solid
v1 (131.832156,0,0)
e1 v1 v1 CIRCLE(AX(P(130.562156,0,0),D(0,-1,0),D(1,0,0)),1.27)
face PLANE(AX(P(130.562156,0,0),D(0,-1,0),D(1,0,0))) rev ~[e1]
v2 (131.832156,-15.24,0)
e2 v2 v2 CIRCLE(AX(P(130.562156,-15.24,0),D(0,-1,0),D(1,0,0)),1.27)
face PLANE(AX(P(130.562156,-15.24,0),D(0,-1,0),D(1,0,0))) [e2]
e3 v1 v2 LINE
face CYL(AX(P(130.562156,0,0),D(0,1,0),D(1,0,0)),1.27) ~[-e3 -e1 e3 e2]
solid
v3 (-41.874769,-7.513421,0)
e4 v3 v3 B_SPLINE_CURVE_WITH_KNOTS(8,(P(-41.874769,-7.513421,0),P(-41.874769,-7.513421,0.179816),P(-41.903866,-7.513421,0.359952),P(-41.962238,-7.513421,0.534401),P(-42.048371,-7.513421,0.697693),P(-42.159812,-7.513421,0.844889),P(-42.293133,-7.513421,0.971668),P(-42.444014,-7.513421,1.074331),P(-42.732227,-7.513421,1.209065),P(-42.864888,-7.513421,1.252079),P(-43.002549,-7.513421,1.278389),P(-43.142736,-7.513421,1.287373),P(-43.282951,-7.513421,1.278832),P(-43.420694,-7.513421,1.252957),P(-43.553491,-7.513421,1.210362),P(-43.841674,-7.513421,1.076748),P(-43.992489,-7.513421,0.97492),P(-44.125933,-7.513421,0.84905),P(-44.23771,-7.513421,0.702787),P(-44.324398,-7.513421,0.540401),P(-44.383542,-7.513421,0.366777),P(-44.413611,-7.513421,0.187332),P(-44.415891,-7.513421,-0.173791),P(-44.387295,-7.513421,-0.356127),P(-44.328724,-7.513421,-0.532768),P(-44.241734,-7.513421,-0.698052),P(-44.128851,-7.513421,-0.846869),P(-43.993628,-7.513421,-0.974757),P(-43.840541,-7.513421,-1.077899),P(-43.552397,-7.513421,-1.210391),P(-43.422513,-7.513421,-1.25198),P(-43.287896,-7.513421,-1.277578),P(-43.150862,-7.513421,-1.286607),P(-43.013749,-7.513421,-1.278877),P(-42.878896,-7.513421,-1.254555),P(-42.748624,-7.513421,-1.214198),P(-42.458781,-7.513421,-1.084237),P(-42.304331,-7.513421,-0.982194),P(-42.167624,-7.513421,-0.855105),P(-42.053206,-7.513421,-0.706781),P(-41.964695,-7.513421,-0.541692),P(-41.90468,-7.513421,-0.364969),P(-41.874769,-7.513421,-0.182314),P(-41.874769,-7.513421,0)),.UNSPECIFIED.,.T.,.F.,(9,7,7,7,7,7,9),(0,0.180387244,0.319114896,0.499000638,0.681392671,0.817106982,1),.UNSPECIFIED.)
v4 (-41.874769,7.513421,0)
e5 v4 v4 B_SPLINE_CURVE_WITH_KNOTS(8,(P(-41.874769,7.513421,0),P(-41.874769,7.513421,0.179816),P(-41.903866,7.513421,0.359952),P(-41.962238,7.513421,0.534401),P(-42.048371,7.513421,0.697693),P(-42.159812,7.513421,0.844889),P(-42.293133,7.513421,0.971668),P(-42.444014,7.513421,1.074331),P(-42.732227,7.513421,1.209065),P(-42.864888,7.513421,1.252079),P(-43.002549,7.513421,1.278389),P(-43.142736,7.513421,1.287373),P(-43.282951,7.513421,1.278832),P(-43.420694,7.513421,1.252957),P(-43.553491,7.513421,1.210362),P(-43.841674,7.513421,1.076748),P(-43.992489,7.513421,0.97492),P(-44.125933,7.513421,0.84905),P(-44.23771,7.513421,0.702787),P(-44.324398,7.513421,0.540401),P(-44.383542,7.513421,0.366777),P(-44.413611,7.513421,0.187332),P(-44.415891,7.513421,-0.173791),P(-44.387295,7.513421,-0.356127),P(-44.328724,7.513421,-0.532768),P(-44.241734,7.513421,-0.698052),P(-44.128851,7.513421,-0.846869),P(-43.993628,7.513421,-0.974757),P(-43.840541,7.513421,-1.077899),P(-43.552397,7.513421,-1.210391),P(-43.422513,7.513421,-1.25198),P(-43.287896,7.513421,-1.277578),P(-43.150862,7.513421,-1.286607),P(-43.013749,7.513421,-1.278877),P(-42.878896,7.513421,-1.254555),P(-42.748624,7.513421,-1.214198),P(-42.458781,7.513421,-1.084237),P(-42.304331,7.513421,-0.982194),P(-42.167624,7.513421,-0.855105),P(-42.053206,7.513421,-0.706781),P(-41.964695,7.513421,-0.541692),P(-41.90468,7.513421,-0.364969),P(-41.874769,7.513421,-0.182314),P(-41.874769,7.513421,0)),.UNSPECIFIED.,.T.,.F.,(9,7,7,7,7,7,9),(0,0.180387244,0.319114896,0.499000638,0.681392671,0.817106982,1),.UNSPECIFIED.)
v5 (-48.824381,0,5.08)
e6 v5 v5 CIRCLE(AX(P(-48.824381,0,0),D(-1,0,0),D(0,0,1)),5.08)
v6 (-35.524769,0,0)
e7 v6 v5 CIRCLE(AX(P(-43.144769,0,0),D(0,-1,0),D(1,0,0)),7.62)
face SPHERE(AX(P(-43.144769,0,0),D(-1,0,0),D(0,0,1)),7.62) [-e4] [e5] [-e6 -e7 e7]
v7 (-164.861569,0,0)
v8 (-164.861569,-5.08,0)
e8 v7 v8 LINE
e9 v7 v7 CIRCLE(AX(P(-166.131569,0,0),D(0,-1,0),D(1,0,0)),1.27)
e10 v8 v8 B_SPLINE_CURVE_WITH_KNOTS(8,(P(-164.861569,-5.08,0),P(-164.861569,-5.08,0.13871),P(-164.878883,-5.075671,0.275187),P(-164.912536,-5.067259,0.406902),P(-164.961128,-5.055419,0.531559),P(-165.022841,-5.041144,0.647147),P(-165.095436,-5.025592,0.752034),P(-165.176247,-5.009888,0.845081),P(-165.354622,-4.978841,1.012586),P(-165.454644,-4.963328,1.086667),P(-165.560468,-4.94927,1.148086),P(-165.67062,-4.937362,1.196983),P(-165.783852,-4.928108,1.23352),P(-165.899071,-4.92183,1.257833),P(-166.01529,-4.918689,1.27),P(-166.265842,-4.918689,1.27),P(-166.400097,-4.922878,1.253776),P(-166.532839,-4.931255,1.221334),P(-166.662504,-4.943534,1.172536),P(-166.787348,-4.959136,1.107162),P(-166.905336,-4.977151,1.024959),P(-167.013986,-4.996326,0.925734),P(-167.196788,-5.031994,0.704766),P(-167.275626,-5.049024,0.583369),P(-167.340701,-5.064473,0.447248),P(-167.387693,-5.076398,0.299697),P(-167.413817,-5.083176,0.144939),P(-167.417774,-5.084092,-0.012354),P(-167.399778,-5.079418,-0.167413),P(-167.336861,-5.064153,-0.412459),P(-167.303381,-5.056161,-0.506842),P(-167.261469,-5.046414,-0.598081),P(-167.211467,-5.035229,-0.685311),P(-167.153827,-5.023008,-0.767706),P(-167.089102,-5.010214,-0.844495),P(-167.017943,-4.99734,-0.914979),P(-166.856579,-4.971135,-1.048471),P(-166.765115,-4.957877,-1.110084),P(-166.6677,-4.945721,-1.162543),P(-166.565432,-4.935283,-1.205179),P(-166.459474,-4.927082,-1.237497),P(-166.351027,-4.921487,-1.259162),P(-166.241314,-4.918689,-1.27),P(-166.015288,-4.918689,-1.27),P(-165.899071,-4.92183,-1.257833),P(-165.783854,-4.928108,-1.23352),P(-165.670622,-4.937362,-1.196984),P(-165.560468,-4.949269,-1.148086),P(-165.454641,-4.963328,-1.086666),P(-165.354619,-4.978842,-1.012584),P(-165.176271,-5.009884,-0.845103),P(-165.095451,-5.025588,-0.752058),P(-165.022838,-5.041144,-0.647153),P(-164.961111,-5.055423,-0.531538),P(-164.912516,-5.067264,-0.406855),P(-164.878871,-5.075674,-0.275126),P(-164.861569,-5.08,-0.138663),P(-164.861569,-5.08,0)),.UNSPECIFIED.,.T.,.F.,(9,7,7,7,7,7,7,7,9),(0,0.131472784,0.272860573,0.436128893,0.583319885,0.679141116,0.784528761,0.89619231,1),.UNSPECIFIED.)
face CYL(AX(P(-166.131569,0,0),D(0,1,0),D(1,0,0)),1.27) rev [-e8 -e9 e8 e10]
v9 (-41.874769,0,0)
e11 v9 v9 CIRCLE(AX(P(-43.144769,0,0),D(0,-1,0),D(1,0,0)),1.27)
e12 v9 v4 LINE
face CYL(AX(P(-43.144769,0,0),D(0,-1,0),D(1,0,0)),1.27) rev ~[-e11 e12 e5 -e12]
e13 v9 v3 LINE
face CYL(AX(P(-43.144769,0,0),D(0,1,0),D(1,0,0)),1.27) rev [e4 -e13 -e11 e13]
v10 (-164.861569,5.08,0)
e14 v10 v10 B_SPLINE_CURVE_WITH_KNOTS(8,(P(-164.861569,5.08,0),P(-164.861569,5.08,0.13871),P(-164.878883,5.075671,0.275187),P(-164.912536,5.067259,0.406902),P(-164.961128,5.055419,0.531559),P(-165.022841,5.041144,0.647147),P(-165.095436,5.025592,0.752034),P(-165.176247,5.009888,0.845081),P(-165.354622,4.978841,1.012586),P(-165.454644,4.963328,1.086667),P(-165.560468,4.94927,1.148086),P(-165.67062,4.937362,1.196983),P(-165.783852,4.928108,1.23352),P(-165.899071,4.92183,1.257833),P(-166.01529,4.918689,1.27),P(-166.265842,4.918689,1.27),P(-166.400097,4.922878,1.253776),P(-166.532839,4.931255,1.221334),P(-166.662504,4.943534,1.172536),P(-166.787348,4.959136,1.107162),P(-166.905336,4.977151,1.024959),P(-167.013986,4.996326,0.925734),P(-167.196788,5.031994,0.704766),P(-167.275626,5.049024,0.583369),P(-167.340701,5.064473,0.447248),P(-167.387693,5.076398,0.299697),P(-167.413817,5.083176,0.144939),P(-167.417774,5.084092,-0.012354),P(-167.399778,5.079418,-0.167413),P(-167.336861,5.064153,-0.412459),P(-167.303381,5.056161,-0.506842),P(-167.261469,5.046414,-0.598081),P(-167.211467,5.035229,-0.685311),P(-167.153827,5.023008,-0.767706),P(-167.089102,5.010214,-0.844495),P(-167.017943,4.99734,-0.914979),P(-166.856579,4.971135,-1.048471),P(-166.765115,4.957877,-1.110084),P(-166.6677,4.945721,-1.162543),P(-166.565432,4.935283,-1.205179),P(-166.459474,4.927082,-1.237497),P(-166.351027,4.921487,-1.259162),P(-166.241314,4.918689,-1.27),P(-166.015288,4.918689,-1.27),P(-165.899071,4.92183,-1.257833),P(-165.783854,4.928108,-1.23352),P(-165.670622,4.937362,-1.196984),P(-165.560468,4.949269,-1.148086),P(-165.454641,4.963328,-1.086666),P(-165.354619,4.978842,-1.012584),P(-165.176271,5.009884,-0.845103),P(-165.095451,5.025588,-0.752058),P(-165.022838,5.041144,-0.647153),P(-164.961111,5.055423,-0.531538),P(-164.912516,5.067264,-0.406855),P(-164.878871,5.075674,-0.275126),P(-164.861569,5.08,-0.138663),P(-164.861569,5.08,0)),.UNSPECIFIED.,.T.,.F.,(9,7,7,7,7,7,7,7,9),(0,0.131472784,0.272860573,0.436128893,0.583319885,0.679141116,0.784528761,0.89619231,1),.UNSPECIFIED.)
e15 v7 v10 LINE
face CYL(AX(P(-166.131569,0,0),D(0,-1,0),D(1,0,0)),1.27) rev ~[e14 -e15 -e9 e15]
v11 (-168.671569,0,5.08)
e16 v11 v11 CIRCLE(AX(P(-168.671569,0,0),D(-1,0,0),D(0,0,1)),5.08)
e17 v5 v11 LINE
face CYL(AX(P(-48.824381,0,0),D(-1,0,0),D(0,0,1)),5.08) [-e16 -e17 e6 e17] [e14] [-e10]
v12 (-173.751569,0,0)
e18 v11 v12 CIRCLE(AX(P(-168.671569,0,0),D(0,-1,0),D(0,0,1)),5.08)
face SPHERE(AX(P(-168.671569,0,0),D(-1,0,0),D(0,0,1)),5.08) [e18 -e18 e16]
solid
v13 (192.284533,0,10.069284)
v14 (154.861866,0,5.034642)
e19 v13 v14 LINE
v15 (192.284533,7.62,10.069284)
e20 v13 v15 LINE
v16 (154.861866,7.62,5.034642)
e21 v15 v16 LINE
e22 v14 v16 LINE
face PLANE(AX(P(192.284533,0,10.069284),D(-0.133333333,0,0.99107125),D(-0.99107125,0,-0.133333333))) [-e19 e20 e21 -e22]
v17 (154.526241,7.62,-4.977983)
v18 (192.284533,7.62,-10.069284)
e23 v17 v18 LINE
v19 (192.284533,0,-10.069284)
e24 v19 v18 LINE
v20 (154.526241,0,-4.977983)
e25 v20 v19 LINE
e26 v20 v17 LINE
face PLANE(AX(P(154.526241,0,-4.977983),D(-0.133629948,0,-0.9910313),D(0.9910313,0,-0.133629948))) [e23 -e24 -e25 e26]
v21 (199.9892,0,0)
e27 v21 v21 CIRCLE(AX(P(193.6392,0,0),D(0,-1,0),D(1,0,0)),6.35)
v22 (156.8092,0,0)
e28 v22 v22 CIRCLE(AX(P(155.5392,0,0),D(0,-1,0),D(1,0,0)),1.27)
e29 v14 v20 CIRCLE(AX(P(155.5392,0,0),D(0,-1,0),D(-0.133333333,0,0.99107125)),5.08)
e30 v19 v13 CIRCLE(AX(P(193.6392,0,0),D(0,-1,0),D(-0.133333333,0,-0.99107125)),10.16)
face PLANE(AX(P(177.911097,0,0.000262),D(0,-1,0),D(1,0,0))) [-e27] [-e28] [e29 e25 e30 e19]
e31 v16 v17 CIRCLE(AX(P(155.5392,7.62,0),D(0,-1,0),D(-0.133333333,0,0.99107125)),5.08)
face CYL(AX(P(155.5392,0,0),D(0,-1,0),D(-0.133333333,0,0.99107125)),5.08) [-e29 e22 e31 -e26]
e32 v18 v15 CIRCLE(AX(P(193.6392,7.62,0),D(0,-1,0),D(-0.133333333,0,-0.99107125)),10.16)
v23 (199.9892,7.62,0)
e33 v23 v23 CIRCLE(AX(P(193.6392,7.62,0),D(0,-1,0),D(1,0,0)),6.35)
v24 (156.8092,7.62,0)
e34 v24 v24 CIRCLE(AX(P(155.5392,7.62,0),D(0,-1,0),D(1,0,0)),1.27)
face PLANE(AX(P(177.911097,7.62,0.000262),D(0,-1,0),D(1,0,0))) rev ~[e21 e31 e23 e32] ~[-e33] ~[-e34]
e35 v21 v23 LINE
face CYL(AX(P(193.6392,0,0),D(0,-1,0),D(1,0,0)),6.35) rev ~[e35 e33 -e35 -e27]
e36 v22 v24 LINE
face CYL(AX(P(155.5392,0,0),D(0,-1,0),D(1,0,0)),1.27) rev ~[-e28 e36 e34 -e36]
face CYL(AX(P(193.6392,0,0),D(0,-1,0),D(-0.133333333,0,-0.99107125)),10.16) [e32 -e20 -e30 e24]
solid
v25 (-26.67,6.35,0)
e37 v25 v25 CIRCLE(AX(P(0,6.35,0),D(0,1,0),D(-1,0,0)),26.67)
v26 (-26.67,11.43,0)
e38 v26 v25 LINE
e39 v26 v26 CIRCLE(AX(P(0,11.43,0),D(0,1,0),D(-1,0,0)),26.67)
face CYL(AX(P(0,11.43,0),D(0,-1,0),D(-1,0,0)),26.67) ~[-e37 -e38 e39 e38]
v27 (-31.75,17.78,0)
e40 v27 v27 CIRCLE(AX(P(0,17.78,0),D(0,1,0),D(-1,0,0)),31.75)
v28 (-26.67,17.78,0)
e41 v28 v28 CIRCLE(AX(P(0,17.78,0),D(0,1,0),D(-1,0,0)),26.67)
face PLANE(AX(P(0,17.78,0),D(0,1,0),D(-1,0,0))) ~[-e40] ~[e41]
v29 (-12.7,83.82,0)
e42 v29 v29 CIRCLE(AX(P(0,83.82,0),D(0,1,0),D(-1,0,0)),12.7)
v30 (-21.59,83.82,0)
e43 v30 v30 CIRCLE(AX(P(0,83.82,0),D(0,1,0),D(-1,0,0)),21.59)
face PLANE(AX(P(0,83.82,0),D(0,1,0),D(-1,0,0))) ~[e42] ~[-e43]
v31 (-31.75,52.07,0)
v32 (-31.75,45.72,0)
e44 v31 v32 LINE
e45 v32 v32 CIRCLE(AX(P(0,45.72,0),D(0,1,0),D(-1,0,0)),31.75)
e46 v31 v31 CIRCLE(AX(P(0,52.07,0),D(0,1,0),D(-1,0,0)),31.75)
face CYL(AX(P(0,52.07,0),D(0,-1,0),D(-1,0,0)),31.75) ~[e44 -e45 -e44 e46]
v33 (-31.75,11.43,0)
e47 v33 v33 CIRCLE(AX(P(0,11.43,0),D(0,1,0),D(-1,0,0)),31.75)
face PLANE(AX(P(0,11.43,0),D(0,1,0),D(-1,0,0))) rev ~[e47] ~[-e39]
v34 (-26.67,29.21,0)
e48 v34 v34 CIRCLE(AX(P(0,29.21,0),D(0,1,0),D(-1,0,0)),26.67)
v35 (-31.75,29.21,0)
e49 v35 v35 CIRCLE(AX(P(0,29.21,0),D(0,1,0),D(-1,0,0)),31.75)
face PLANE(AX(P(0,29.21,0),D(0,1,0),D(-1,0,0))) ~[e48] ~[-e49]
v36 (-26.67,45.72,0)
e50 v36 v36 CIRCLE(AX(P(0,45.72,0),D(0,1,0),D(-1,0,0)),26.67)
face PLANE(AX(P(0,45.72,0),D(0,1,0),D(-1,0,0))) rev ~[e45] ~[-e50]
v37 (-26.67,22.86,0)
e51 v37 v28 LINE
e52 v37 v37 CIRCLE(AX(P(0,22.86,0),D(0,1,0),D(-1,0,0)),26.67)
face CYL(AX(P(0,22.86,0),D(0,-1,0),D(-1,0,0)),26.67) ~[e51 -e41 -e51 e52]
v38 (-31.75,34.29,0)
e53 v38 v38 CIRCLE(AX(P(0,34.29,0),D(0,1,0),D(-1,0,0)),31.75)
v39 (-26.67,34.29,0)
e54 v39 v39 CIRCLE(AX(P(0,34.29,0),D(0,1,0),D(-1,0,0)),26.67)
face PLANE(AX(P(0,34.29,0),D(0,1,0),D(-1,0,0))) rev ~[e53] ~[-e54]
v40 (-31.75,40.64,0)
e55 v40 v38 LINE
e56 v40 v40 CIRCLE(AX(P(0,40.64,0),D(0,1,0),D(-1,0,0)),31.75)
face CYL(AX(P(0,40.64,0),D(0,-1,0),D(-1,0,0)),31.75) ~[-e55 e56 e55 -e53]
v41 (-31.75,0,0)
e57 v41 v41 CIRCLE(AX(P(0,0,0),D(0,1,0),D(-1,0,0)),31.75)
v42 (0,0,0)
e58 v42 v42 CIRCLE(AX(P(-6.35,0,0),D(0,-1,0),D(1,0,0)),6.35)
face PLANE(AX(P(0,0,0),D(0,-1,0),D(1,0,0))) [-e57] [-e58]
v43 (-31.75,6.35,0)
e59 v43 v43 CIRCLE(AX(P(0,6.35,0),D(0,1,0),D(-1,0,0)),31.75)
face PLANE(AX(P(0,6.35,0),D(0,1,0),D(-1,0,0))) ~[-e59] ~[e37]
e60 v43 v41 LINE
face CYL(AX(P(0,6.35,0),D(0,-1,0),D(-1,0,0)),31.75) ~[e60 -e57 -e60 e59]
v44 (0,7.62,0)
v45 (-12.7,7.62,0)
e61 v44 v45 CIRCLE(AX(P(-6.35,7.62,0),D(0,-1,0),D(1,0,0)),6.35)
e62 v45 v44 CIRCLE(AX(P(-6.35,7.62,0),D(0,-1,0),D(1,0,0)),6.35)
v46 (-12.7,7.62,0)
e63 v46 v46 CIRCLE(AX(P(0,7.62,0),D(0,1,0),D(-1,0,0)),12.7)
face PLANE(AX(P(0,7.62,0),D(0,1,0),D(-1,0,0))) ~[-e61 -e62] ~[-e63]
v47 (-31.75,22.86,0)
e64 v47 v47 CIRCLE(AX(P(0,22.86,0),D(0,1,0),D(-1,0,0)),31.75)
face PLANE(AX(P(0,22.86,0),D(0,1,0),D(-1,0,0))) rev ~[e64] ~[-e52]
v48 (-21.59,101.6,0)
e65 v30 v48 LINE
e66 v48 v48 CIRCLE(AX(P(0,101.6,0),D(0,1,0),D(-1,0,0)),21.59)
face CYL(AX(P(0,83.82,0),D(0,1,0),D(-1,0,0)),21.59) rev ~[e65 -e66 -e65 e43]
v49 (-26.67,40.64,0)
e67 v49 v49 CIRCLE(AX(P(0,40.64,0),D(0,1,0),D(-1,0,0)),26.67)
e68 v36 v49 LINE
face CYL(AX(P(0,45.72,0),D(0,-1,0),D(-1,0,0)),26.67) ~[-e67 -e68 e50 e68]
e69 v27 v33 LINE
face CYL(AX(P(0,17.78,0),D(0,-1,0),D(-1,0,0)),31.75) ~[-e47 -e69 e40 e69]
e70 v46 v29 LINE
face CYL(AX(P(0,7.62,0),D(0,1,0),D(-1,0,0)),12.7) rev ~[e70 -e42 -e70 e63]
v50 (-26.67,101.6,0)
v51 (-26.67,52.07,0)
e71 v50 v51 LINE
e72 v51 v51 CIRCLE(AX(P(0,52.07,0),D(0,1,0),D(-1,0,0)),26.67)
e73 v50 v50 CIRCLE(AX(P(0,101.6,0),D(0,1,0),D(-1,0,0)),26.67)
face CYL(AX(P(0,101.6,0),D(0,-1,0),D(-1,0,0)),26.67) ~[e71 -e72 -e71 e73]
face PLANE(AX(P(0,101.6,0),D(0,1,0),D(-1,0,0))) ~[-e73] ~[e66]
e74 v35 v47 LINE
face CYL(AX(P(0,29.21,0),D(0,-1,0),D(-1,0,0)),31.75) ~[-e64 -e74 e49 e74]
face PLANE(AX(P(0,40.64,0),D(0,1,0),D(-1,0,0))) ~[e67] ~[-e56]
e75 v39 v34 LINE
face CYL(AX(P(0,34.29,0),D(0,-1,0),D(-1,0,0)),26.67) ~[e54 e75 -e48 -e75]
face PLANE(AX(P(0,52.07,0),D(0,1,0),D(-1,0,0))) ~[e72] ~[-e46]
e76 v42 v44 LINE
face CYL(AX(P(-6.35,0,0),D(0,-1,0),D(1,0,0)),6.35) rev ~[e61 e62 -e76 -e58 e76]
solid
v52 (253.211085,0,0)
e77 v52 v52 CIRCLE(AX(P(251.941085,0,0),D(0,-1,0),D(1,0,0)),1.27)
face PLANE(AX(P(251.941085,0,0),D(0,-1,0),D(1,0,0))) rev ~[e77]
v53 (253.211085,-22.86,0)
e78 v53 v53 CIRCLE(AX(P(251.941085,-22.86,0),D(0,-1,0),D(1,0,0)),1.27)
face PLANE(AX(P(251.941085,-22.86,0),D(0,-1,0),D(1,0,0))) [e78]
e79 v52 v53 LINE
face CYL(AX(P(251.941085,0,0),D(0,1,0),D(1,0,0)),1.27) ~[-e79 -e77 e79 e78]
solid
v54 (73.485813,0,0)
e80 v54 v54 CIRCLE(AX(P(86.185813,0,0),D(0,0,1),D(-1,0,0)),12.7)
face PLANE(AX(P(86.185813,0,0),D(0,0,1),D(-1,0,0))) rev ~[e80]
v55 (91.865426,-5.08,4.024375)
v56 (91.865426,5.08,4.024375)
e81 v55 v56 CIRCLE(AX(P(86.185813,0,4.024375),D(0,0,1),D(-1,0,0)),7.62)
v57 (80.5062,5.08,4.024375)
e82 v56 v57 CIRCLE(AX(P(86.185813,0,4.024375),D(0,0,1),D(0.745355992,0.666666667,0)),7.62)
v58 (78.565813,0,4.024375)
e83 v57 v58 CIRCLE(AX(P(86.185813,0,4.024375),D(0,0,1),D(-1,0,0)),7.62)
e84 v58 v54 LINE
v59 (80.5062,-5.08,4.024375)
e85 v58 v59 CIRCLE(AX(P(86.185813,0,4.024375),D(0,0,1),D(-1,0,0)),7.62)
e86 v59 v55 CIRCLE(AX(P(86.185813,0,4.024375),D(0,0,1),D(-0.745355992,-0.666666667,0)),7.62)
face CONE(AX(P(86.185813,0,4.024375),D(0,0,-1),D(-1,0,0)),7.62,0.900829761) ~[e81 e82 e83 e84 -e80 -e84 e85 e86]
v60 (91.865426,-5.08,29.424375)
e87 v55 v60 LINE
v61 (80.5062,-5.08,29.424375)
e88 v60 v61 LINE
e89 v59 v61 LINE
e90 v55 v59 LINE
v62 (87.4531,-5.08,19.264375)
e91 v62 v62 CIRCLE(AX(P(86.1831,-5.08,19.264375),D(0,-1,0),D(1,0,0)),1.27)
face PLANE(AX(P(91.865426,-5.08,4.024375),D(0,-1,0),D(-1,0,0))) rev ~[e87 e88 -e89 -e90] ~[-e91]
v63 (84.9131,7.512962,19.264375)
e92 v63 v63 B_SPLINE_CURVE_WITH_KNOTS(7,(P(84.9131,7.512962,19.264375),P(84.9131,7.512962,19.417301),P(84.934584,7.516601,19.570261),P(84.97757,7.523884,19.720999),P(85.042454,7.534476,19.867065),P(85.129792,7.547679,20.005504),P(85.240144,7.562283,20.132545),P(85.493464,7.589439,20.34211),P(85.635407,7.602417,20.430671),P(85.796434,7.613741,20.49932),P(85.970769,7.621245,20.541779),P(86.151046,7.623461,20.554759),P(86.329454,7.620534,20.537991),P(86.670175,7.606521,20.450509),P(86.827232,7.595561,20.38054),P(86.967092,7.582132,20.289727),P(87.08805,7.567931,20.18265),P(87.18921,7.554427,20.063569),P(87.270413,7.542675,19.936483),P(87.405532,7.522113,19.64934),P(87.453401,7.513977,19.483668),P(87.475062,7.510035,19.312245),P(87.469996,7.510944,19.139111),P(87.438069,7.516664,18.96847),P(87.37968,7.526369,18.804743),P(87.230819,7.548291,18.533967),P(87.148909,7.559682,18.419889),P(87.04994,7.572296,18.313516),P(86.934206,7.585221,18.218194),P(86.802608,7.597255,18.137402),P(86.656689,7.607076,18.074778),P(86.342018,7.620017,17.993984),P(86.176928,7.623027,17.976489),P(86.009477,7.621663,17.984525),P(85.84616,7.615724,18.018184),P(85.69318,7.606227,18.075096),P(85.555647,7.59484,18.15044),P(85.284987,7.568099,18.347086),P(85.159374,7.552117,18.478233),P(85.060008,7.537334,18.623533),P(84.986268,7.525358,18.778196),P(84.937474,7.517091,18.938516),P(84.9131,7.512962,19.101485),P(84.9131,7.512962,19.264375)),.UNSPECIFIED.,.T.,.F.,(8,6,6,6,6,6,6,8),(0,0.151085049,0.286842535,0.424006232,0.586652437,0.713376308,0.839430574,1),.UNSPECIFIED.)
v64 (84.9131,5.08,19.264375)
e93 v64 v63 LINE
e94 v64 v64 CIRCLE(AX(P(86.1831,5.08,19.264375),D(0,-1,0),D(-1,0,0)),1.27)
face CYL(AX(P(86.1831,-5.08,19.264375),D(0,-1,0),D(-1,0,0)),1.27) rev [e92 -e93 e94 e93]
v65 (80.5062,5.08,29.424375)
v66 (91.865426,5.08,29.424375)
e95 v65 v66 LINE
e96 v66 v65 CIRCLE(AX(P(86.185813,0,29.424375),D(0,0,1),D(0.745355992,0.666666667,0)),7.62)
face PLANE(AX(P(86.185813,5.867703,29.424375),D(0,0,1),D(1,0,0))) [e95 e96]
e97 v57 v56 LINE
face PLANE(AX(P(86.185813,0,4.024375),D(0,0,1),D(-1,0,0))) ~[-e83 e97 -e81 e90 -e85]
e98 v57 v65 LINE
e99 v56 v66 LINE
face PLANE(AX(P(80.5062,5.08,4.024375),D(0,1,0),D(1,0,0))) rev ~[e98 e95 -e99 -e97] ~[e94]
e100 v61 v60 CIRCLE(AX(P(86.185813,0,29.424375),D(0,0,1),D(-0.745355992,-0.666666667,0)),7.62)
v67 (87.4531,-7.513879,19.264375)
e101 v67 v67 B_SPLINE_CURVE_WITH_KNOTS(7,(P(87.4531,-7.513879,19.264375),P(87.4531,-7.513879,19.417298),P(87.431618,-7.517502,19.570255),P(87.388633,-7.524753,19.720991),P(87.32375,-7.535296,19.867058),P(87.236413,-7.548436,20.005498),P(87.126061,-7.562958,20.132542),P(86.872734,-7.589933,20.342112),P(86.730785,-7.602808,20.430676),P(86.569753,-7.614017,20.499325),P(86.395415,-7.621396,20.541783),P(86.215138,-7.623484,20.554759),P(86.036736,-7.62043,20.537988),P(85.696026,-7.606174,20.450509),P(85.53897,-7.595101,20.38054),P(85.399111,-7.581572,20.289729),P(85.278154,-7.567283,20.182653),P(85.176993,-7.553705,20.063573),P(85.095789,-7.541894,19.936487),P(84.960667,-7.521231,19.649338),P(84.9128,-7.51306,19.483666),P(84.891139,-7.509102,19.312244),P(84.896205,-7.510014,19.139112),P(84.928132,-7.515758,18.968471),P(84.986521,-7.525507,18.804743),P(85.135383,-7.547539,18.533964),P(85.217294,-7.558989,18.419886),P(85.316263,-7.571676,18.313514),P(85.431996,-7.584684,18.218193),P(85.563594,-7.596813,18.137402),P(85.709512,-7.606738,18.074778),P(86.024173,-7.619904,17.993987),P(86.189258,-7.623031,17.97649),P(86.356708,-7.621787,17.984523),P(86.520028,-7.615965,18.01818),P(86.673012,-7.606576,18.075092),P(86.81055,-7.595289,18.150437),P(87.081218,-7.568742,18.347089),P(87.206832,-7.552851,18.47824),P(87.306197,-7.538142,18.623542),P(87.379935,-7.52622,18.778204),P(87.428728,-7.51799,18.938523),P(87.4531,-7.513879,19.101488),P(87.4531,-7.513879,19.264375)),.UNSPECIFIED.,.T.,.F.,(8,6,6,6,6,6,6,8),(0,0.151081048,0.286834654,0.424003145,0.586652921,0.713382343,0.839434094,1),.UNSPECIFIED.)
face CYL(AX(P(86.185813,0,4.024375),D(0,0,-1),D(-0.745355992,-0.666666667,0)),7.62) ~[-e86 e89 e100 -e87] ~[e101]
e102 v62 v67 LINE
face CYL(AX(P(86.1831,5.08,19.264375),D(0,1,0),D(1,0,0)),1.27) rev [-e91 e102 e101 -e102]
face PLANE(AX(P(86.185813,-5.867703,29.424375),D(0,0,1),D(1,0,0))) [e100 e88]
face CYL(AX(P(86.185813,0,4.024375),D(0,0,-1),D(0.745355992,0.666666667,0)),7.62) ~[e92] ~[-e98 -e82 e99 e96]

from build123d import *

# Parameters (mm, degrees)
F2_R      = 1.27
F3_DEPTH  = 7.62
F7_DEPTH  = 25.4
F8_R      = 1.27
F9_DEPTH  = 25.4
F10_R     = 1.27
F11_DEPTH = 25.4
F12_R     = 1.27
F13_DEPTH = 15.24
F16_R     = 1.27
F17_DEPTH = 25.4
F18_R     = 1.27
F19_DEPTH = 25.4
F20_R     = 6.35
F21_DEPTH = 25.4
F22_R     = 1.27
F22_R_2   = 6.35
F23_DEPTH = 7.62
F24_R     = 1.27
F25_DEPTH = 25.4
F26_R     = 1.27
F27_DEPTH = 25.4
F28_R     = 1.27
F29_DEPTH = 22.86


with BuildPart() as f1:
    # F0 (on Top) → F1 (revolve)
    with BuildSketch(Plane.XY):
        Polygon((-31.75, 6.35), (-31.75, 0), (-1.27, 0), (-1.27, 7.62), (-12.7, 7.62), (-12.7, 83.82), (-21.59, 83.82), (-21.59, 101.6), (-26.67, 101.6), (-26.67, 52.07), (-31.75, 52.07), (-31.75, 45.72), (-26.67, 45.72), (-26.67, 40.64), (-31.75, 40.64), (-31.75, 34.29), (-26.67, 34.29), (-26.67, 29.21), (-31.75, 29.21), (-31.75, 22.86), (-26.67, 22.86), (-26.67, 17.78), (-31.75, 17.78), (-31.75, 11.43), (-26.67, 11.43), (-26.67, 6.35), align=None)
    revolve(axis=Axis((0, 69.3760365248, 0), (0, 1, 0)))

    # F2 (on face) → F3 (join)
    with BuildSketch(Plane.XZ):
        Circle(F2_R)
    extrude(amount=-F3_DEPTH)

    # F20 (on face) → F21 (cut)
    with BuildSketch(Plane.XZ):
        with Locations((-6.35, 0)):
            Circle(F20_R)
    extrude(amount=-F21_DEPTH, mode=Mode.SUBTRACT)


with BuildPart() as f5:
    # F4 (on Front) → F5 (revolve)
    with BuildSketch(Plane.XZ):
        Polygon((78.5658129501, 4.0243747644), (73.4858129501, 0), (86.1858129501, 0), (86.1858129501, 4.0243747644), align=None)
    revolve(axis=Axis((86.1858129501, 0, 14.9916736409), (0, 0, 1)))

    # F6 (on face) → F7 (join)
    with BuildSketch(Plane.XY.offset(4.0243747644)):
        with BuildLine():
            ThreePointArc((91.865425613, 5.08), (86.1858129501, 7.62), (80.5062002873, 5.08))
            Line((80.5062002873, 5.08), (91.865425613, 5.08))
        make_face()
        with BuildLine():
            Line((91.865425613, -5.08), (80.5062002873, -5.08))
            ThreePointArc((80.5062002873, -5.08), (86.1858129501, -7.62), (91.865425613, -5.08))
        make_face()
    extrude(amount=F7_DEPTH)

    # F8 (on face) → F9 (cut)
    with BuildSketch(Plane.XZ.offset(-5.08)):
        with Locations((86.1831002873, 19.2643747644)):
            Circle(F8_R)
    extrude(amount=F9_DEPTH, mode=Mode.SUBTRACT)

    # F10 (on face) → F11 (cut)
    with BuildSketch(Plane(origin=(0, -5.08, 0), x_dir=(-1, 0, 0), z_dir=(0, 1, 0))):
        with Locations((-86.1831002873, 19.2643747644)):
            Circle(F10_R)
    extrude(amount=F11_DEPTH, mode=Mode.SUBTRACT)


with BuildPart() as f13:
    # F12 (on Front) → F13 (new body)
    with BuildSketch(Plane.XZ):
        with Locations((130.5621564388, 0)):
            Circle(F12_R)
    extrude(amount=F13_DEPTH)


with BuildPart() as f15:
    # F14 (on Front) → F15 (revolve)
    with BuildSketch(Plane.XZ):
        with BuildLine():
            Line((-48.824381202, 5.08), (-168.6715685392, 5.08))
            ThreePointArc((-168.6715685392, 5.08), (-172.2636709876, 3.5921024484), (-173.7515685392, 0))
            Line((-173.7515685392, 0), (-44.4147685392, 0))
            ThreePointArc((-44.4147685392, 0), (-43.1447685392, 1.27), (-41.8747685392, 0))
            Line((-41.8747685392, 0), (-35.5247685392, 0))
            ThreePointArc((-35.5247685392, 0), (-40.4257842151, 7.1183933753), (-48.824381202, 5.08))
        make_face()
        with BuildLine():
            ThreePointArc((-41.8747685392, 0), (-43.1447685392, 1.27), (-44.4147685392, 0))
            Line((-44.4147685392, 0), (-41.8747685392, 0))
        make_face()
        with BuildLine():
            Line((-41.8747685392, 0), (-44.4147685392, 0))
            ThreePointArc((-44.4147685392, 0), (-43.1447685392, -1.27), (-41.8747685392, 0))
        make_face()
    revolve(axis=Axis((-94.1134542227, 0, 0), (-1, 0, 0)))

    # F16 (on Front) → F17 (cut)
    with BuildSketch(Plane.XZ):
        with Locations((-166.1315685392, 0)):
            Circle(F16_R)
    extrude(amount=-F17_DEPTH, mode=Mode.SUBTRACT)

    # F18 (on Front) → F19 (cut)
    with BuildSketch(Plane.XZ):
        with Locations((-166.1315685392, 0)):
            Circle(F18_R)
    extrude(amount=F19_DEPTH, mode=Mode.SUBTRACT)

    # F24 (on Front) → F25 (cut)
    with BuildSketch(Plane.XZ):
        with Locations((-43.1447685392, 0)):
            Circle(F24_R)
    extrude(amount=-F25_DEPTH, mode=Mode.SUBTRACT)

    # F26 (on Front) → F27 (cut)
    with BuildSketch(Plane.XZ):
        with Locations((-43.1447685392, 0)):
            Circle(F26_R)
    extrude(amount=F27_DEPTH, mode=Mode.SUBTRACT)


with BuildPart() as f23:
    # F22 (on Front) → F23 (new body)
    with BuildSketch(Plane.XZ):
        with BuildLine():
            Line((192.2845330432, 10.0692838982), (154.8618663766, 5.0346419491))
            ThreePointArc((154.8618663766, 5.0346419491), (150.4620512721, 0.1701873692), (154.5262405226, -4.9779828932))
            Line((154.5262405226, -4.9779828932), (192.2845330432, -10.0692838982))
            ThreePointArc((192.2845330432, -10.0692838982), (203.7991997099, 0), (192.2845330432, 10.0692838982))
        make_face()
        with Locations((155.5391997099, 0)):
            Circle(F22_R, mode=Mode.SUBTRACT)
        with Locations((193.6391997099, 0)):
            Circle(F22_R_2, mode=Mode.SUBTRACT)
    extrude(amount=-F23_DEPTH)


with BuildPart() as f29:
    # F28 (on Front) → F29 (new body)
    with BuildSketch(Plane.XZ):
        with Locations((251.9410848618, 0)):
            Circle(F28_R)
    extrude(amount=F29_DEPTH)


solid = Compound([f1.part, f5.part, f13.part, f15.part, f23.part, f29.part])
